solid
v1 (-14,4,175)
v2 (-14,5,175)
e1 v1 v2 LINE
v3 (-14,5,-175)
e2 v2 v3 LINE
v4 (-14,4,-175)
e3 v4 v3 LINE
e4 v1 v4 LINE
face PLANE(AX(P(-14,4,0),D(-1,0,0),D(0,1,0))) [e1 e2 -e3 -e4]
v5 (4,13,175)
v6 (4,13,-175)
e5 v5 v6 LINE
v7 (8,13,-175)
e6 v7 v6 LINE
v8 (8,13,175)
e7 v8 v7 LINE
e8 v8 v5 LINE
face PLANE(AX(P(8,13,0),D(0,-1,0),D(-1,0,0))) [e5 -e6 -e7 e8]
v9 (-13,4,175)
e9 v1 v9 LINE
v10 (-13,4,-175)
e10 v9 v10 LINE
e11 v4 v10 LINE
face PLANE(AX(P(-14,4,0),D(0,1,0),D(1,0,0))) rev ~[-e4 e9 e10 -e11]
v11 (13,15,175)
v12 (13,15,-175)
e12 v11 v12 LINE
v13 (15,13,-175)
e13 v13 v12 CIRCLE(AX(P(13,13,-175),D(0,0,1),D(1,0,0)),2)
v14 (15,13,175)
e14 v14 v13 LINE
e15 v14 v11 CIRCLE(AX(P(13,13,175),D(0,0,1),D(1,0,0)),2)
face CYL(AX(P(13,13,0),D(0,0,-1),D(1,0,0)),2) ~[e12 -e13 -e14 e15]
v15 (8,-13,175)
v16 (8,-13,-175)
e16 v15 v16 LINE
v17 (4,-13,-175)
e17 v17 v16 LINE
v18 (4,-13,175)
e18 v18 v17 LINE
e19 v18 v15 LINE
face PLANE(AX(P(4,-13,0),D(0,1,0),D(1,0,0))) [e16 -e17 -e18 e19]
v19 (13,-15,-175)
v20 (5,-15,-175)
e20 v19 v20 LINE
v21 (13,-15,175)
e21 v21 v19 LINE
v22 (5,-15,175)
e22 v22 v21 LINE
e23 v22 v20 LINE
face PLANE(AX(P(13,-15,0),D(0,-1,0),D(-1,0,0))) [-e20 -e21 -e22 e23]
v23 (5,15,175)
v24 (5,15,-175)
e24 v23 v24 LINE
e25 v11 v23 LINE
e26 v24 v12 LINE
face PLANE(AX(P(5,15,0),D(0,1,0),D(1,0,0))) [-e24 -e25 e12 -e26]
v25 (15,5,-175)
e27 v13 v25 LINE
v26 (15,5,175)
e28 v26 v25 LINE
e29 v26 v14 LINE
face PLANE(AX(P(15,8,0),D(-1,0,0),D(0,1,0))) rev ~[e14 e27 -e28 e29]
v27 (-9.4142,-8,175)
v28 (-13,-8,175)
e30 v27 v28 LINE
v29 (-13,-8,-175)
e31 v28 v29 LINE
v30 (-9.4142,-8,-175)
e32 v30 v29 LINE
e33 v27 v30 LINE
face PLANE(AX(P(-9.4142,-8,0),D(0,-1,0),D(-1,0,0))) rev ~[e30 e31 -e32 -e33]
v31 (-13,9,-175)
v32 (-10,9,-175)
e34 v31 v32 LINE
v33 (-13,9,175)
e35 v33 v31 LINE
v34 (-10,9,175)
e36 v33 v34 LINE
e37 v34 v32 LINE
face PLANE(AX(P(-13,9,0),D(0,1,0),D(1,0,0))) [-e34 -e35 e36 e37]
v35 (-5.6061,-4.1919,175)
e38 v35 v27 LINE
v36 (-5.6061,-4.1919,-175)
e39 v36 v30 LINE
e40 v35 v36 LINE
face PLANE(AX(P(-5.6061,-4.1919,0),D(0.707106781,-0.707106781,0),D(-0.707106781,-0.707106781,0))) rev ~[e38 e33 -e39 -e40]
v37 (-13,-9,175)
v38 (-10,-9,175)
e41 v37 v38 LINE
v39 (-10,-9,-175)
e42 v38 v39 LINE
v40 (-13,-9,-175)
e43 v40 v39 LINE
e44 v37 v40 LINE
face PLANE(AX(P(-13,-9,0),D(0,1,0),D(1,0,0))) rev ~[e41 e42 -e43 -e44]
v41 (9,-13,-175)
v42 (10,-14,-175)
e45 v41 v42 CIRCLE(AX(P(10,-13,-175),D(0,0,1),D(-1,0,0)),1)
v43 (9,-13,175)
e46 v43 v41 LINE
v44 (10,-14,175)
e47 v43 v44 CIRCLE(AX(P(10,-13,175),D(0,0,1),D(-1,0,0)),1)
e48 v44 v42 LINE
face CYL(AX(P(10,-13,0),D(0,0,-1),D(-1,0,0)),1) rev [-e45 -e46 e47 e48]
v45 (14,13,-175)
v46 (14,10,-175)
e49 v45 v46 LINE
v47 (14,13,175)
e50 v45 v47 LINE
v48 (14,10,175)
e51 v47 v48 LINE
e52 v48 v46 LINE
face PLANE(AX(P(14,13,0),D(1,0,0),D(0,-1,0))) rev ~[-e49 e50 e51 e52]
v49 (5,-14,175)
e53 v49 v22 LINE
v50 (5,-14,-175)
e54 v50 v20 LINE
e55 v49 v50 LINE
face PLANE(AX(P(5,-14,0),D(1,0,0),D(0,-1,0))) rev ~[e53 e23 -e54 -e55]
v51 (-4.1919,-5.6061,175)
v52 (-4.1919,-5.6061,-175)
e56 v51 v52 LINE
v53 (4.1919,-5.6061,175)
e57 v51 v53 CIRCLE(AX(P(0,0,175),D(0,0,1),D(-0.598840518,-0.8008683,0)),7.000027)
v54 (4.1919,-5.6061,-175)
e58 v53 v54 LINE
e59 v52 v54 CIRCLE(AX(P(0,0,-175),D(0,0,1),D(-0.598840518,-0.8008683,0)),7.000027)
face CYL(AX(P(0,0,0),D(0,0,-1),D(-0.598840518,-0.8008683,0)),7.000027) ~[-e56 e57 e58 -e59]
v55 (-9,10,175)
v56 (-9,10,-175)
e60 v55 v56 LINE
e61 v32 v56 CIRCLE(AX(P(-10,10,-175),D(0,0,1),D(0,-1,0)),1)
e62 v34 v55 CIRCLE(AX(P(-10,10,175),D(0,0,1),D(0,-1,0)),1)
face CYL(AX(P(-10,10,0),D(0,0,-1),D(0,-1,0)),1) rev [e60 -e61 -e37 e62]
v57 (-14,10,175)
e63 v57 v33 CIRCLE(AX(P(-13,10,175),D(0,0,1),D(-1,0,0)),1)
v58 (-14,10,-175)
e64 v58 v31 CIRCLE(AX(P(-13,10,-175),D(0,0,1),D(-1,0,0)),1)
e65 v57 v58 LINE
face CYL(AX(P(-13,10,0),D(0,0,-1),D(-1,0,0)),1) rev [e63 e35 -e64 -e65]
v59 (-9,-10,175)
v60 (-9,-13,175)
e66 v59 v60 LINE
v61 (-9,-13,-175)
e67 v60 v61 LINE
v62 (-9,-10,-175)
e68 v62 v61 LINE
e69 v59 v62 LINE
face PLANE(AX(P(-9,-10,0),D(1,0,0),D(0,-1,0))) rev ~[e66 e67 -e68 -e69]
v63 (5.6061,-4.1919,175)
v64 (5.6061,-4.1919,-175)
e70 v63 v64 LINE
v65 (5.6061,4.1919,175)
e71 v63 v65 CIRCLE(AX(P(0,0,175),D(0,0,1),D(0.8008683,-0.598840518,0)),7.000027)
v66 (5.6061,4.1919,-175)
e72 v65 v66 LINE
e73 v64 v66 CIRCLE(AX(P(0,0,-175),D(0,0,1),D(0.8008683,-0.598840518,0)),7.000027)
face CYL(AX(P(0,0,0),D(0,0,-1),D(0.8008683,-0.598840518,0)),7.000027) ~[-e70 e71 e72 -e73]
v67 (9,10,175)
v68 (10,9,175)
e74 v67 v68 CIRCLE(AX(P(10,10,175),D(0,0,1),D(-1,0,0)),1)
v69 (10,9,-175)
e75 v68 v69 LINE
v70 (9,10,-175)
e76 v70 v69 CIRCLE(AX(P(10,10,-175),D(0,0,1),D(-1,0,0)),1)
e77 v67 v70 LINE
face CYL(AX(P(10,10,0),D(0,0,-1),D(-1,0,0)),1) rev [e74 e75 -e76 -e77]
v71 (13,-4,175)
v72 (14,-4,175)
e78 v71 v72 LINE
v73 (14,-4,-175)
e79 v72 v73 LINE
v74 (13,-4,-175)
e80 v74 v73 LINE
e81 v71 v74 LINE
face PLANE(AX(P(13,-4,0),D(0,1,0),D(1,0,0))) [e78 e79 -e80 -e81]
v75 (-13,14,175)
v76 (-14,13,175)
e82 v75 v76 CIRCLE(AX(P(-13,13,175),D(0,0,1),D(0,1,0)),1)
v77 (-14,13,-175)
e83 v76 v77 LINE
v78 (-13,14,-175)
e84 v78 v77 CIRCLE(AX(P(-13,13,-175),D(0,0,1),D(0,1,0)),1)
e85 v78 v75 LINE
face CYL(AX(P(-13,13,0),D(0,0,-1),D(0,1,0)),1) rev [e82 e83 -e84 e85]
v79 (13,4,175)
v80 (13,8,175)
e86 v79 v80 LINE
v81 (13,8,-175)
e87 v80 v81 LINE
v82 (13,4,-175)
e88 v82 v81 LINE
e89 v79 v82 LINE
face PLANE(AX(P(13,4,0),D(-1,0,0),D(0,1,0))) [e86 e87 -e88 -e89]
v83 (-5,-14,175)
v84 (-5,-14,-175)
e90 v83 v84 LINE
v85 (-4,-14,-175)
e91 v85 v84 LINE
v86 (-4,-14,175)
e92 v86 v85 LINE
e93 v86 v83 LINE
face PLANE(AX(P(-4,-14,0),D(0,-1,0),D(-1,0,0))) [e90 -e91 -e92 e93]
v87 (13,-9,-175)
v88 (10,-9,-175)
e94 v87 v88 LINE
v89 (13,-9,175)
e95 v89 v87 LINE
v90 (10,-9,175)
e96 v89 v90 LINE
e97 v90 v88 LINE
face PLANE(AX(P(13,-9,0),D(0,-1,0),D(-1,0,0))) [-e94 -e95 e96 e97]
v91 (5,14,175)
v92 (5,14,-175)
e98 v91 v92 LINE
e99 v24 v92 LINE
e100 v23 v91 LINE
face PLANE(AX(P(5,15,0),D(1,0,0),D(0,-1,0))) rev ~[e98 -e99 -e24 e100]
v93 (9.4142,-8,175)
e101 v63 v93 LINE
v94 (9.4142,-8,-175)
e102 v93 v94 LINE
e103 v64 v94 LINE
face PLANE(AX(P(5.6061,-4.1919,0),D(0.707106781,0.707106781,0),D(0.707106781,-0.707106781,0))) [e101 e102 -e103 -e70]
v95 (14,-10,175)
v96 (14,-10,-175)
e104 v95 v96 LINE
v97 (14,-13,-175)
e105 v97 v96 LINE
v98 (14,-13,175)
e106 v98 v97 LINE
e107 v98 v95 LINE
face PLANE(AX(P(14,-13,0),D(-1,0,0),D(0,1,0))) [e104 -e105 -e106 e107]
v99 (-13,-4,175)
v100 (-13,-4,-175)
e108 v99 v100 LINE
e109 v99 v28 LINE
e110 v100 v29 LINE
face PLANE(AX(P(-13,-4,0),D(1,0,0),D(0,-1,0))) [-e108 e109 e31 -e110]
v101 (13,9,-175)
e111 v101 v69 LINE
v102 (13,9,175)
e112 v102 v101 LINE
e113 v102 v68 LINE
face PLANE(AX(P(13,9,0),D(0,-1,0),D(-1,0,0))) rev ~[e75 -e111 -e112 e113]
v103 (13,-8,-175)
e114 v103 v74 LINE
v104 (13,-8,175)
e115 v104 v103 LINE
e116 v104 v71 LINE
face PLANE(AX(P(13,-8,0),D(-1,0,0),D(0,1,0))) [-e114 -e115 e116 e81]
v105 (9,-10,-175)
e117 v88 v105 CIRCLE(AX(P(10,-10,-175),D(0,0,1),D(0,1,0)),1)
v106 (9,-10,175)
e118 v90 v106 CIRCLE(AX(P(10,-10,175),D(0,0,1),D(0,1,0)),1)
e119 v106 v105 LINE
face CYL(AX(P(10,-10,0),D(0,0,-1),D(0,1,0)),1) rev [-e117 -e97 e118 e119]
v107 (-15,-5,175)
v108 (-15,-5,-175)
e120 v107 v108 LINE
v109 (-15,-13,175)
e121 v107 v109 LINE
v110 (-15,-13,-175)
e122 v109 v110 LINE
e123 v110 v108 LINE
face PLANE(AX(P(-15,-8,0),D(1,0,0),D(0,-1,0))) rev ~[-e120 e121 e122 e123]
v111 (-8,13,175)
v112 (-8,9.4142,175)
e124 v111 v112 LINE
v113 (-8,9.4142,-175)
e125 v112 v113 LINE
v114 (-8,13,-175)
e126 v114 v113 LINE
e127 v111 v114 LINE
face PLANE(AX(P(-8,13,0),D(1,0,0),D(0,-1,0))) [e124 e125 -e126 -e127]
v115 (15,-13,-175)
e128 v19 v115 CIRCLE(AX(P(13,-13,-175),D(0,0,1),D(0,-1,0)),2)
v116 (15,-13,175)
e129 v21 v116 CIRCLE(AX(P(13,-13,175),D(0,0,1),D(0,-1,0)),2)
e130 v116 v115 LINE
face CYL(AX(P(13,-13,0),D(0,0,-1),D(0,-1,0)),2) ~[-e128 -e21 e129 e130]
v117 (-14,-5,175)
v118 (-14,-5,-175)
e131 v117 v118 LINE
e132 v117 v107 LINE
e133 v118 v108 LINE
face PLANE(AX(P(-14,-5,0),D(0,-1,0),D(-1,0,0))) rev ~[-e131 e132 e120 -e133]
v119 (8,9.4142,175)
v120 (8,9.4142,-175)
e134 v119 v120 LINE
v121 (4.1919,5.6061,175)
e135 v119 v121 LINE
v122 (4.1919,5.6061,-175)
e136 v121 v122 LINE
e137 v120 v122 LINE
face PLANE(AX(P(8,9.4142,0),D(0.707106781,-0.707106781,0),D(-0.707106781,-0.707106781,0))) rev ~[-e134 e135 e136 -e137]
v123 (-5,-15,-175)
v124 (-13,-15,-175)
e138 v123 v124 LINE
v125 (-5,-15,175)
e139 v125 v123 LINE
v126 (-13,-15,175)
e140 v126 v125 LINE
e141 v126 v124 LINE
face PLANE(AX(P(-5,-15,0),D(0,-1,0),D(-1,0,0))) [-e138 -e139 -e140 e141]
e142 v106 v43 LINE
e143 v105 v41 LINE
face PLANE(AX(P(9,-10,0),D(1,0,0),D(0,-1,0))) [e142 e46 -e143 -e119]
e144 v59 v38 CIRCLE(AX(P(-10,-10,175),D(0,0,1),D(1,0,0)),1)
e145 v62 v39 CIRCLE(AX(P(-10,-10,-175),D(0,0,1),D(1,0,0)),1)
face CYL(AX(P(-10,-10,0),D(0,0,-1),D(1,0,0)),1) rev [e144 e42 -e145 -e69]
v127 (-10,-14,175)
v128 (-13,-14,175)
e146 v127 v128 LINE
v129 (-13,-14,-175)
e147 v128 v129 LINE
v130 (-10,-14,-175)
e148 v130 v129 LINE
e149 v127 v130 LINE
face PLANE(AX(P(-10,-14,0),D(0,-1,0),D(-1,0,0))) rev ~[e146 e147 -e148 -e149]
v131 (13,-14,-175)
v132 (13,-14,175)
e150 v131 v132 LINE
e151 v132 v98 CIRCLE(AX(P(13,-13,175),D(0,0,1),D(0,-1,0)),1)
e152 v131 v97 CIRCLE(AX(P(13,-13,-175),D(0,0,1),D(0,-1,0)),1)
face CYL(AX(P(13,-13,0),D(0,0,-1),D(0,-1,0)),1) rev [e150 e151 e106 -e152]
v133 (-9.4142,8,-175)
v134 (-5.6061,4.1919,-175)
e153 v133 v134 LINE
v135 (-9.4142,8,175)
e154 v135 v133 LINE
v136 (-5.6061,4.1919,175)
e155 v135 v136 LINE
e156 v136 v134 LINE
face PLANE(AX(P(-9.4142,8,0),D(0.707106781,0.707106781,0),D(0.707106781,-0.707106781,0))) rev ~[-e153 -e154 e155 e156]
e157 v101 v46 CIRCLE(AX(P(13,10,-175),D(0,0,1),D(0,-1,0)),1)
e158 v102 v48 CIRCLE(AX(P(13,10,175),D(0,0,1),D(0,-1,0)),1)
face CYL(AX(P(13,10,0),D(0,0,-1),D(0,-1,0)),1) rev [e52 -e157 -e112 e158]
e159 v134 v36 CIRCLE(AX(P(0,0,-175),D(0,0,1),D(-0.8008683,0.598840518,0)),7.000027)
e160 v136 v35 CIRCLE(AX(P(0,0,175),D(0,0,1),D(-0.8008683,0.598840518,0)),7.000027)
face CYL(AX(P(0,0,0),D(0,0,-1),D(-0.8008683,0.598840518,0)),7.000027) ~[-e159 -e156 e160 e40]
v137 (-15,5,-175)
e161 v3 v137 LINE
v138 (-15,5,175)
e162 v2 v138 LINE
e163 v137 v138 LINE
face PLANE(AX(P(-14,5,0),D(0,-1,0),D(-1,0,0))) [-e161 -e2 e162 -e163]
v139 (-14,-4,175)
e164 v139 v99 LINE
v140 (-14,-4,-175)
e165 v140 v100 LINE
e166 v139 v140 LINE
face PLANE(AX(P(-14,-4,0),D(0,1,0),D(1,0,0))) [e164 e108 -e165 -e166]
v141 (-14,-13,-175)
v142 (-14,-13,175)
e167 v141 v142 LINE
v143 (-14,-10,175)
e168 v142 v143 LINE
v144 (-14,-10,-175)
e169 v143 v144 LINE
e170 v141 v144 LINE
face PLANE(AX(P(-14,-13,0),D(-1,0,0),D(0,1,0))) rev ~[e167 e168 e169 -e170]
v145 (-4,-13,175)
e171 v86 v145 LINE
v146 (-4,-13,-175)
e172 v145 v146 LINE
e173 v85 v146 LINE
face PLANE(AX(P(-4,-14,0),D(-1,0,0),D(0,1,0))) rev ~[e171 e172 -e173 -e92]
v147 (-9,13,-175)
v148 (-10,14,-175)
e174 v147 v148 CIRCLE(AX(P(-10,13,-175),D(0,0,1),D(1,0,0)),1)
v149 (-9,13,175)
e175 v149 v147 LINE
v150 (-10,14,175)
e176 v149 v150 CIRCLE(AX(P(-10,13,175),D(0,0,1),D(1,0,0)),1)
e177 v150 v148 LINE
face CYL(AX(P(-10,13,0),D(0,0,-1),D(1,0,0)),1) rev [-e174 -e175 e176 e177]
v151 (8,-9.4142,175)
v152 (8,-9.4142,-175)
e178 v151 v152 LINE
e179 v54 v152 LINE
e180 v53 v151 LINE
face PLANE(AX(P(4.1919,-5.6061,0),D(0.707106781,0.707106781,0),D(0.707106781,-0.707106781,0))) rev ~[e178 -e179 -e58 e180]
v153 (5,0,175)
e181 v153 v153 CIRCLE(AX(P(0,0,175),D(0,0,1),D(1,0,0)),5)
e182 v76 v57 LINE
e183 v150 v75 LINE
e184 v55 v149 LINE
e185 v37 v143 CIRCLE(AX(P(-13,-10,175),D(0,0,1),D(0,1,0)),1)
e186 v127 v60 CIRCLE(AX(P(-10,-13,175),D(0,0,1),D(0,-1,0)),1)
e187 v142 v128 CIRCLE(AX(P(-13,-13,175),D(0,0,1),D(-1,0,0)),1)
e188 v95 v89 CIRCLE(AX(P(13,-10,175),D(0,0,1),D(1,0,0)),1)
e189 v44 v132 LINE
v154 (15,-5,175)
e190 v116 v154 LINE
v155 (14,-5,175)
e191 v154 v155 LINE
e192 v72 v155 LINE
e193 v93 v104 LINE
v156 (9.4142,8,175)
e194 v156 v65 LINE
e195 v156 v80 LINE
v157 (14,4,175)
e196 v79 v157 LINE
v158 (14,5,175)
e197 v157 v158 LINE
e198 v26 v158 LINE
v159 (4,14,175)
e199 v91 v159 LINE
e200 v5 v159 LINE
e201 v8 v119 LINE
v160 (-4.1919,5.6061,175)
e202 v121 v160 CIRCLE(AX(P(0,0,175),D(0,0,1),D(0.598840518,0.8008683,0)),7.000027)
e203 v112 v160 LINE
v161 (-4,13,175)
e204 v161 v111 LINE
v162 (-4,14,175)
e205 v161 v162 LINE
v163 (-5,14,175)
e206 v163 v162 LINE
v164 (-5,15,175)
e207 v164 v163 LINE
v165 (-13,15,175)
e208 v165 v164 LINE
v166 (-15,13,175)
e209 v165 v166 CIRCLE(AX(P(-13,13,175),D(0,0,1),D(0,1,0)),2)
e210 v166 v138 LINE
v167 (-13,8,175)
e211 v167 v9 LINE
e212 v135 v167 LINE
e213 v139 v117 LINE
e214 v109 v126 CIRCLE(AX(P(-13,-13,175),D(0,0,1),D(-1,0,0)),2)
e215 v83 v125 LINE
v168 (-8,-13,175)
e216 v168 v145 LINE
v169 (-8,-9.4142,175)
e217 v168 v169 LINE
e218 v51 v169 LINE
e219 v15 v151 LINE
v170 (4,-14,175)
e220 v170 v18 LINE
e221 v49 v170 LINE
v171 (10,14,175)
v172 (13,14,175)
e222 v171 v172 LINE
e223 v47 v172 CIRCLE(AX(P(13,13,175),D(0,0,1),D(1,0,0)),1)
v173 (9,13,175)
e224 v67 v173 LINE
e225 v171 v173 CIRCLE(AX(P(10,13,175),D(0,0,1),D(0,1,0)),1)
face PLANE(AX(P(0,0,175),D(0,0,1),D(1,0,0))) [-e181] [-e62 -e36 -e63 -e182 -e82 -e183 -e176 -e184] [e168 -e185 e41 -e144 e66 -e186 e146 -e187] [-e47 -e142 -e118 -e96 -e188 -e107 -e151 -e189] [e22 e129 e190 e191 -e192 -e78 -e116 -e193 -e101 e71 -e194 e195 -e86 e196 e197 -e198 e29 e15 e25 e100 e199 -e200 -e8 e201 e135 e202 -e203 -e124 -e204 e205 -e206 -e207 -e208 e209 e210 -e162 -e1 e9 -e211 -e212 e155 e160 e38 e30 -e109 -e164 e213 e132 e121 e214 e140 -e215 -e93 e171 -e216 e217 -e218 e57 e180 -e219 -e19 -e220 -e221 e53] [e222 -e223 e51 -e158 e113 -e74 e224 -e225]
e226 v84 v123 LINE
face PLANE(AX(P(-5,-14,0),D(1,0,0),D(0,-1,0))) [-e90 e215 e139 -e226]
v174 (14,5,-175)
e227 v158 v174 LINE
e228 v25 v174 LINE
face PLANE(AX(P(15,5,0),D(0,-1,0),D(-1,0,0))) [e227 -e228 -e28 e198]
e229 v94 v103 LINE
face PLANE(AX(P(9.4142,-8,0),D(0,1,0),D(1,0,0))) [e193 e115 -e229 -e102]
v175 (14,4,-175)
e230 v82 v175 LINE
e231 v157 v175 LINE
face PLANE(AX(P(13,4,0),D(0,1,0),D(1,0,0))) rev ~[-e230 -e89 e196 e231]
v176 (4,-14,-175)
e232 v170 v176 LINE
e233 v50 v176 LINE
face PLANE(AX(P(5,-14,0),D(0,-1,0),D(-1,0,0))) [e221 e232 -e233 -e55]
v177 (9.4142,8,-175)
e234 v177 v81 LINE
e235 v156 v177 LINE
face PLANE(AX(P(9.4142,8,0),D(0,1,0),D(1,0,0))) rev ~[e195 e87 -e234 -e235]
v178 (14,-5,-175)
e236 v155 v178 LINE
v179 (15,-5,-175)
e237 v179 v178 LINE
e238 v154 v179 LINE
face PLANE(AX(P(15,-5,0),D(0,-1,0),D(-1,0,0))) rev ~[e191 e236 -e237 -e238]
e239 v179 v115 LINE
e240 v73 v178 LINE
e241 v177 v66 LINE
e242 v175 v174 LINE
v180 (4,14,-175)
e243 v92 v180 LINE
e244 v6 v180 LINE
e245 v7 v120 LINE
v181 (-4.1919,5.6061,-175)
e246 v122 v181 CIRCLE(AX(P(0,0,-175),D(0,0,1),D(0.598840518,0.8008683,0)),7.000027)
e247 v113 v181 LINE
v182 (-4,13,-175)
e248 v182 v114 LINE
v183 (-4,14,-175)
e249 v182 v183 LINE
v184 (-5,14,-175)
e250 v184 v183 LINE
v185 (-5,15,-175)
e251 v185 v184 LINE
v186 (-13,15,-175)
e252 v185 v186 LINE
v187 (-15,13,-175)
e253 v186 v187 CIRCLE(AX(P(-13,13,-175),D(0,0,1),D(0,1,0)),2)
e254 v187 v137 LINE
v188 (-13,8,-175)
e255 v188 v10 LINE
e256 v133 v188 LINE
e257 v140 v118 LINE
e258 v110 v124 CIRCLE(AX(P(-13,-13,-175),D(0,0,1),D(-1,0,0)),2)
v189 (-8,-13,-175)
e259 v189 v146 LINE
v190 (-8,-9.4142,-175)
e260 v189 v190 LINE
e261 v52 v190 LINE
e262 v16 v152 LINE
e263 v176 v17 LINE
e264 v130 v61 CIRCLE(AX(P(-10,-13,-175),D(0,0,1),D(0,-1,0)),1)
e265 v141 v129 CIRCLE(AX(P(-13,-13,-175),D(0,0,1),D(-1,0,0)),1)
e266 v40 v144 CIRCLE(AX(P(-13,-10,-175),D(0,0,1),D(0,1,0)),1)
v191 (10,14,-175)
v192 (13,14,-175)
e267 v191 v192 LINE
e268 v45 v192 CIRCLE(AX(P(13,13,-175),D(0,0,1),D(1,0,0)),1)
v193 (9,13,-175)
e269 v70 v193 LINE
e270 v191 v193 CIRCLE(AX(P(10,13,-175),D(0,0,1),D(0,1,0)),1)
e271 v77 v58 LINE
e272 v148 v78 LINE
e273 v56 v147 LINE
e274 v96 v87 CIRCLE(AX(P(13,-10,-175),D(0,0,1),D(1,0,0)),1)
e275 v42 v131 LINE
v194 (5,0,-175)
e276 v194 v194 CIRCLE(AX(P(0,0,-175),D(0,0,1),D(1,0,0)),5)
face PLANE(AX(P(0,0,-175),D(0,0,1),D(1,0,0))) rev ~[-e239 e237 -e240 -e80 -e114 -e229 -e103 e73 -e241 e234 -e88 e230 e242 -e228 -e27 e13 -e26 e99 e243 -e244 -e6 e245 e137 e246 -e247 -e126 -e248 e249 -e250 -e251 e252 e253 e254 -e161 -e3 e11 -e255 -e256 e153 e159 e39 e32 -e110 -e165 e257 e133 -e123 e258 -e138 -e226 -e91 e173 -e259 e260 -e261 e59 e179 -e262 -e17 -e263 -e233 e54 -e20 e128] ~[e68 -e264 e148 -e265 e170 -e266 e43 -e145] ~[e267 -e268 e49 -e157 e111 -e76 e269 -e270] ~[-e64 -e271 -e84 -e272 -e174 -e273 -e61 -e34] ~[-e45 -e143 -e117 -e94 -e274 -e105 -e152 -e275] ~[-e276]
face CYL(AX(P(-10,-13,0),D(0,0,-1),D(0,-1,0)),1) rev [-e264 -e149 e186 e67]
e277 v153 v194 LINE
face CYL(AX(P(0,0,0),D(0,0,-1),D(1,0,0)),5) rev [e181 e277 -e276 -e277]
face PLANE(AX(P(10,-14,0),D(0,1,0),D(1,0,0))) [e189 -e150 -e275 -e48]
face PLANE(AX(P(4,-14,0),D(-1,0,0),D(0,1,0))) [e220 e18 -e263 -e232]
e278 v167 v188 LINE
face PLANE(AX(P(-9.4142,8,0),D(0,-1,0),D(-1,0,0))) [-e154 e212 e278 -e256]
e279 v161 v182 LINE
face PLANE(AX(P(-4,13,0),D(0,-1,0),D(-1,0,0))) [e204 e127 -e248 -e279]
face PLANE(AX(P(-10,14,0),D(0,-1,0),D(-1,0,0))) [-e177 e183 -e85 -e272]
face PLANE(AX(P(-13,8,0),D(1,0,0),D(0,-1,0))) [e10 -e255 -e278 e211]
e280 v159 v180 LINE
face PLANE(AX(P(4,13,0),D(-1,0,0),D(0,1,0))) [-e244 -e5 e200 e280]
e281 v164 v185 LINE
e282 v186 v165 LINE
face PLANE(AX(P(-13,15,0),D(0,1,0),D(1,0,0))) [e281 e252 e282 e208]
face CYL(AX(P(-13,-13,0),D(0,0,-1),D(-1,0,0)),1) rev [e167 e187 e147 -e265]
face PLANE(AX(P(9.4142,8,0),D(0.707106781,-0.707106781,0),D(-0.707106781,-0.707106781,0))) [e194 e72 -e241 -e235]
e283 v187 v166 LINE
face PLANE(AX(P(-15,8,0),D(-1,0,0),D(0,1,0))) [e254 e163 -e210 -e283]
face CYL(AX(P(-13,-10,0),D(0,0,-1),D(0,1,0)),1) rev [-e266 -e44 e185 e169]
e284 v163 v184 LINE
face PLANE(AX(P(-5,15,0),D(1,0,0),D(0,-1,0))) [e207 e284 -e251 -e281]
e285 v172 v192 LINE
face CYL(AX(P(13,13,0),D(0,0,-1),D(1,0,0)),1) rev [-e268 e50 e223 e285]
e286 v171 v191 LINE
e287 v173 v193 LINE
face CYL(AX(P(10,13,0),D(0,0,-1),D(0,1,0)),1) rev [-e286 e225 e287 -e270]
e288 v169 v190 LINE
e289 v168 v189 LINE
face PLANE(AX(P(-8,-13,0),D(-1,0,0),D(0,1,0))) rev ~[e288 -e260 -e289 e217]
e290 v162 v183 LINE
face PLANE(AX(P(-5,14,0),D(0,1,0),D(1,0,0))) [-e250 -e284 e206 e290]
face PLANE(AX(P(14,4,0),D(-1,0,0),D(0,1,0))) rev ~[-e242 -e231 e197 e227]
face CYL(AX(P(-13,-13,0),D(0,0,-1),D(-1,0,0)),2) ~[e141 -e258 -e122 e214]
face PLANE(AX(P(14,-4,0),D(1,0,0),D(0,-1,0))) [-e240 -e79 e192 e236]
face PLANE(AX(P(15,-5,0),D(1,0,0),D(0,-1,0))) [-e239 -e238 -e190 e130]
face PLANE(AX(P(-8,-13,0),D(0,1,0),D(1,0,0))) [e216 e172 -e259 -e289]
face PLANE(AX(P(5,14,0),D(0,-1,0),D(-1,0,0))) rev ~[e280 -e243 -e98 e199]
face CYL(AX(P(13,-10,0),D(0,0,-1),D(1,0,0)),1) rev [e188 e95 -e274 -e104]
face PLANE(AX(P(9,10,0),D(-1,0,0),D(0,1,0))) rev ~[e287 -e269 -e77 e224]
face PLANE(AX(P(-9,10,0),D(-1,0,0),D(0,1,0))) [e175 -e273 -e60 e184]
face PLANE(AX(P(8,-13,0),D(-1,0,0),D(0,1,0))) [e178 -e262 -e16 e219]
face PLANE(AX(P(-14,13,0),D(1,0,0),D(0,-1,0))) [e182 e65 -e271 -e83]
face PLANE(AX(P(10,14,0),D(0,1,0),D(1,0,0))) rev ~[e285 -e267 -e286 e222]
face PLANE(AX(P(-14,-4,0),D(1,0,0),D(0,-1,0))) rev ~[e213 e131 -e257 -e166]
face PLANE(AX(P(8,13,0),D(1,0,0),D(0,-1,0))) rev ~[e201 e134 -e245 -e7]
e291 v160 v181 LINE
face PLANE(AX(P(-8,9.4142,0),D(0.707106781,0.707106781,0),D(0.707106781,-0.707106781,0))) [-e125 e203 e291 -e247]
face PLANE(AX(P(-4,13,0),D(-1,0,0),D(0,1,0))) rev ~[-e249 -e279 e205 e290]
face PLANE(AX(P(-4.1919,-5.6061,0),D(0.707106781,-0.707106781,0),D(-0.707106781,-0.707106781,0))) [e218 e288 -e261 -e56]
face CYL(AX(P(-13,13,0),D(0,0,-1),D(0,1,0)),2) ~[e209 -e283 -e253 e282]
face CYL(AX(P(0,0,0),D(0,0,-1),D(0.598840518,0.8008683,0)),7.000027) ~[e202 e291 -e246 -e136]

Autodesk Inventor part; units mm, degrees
ref_plane "YZ Plane" through (0, 0, 0) normal (1, 0, 0) x (0, 1, 0)
ref_plane "XZ Plane" through (0, 0, 0) normal (0, 1, 0) x (-1, 0, 0)
ref_plane "XY Plane" through (0, 0, 0) normal (0, 0, 1) x (1, 0, 0)
sketch "Sketch1" plane through (0, 0, 0) normal (0, 0, 1) x (1, 0, 0)
  circle A0 centre (0, 0) radius 5
  arc A1 (-13, 15) -> (-15, 13) centre (-13, 13) ccw
  arc A2 (-15, -13) -> (-13, -15) centre (-13, -13) ccw
  arc A3 (13, -15) -> (15, -13) centre (13, -13) ccw
  arc A4 (15, 13) -> (13, 15) centre (13, 13) ccw
  arc A5 (-13, 14) -> (-14, 13) centre (-13, 13) ccw
  arc A6 (-14, -13) -> (-13, -14) centre (-13, -13) ccw
  arc A7 (13, -14) -> (14, -13) centre (13, -13) ccw
  arc A8 (14, 13) -> (13, 14) centre (13, 13) ccw
  line L0 (14, -14) -> (-14, 14) construction
  line L1 (-14, -14) -> (14, 14) construction
  line L2 (15, -15) -> (-15, 15) construction
  line L3 (-15, -15) -> (15, 15) construction
  line L4 (-13, 15) -> (-8, 15)
  line L5 (-8, 13) -> (-8, 8) construction
  line L6 (-9.4142, 8) -> (-13, 8)
  line L7 (-15, 8) -> (-15, 13)
  line L8 (-13, -15) -> (-8, -15)
  line L9 (-8, -13) -> (-8, -9.4142)
  line L10 (-9.4142, -8) -> (-13, -8)
  line L11 (-15, -8) -> (-15, -13)
  line L12 (13, -15) -> (8, -15)
  line L13 (8, -13) -> (8, -9.4142)
  line L14 (9.4142, -8) -> (13, -8)
  line L15 (15, -8) -> (15, -13)
  line L16 (13, 15) -> (8, 15)
  line L17 (8, 13) -> (8, 9.4142)
  line L18 (9.4142, 8) -> (13, 8)
  line L19 (15, 8) -> (15, 13)
  line L20 (-13, 9) -> (-10, 9)
  line L21 (-9, 10) -> (-9, 13)
  line L22 (-10, 14) -> (-13, 14)
  line L23 (-14, 13) -> (-14, 10)
  line L24 (13, 9) -> (10, 9)
  line L25 (9, 10) -> (9, 13)
  line L26 (10, 14) -> (13, 14)
  line L27 (14, 13) -> (14, 10)
  line L28 (13, -9) -> (10, -9)
  line L29 (9, -10) -> (9, -13)
  line L30 (10, -14) -> (13, -14)
  line L31 (14, -13) -> (14, -10)
  line L32 (-13, -9) -> (-10, -9)
  line L33 (-9, -10) -> (-9, -13)
  line L34 (-10, -14) -> (-13, -14)
  line L35 (-14, -13) -> (-14, -10)
  line L36 (-14, 13) -> (-14, 10)
  line L37 (-14, -10) -> (-14, -13)
  line L38 (-14, -13) -> (-14, -10)
  line L39 (-14, 10) -> (-14, 13)
  line L40 (13, -15) -> (5, -15)
  line L41 (-5, -15) -> (-13, -15)
  line L42 (13, -15) -> (5, -15) construction
  line L43 (0, -15) -> (-13, -15) construction
  line L44 (4, -13) -> (8, -13)
  line L45 (-8, -13) -> (-4, -13)
  line L46 (10, -9) -> (13, -9)
  line L47 (14, -10) -> (14, -13)
  line L48 (13, -14) -> (10, -14)
  line L49 (9, -13) -> (9, -10)
  line L50 (5, -14) -> (5, -15)
  line L51 (13, -14) -> (10, -14)
  line L52 (5, -14) -> (4, -14)
  line L53 (4, -14) -> (5, -14)
  line L54 (10, -14) -> (13, -14)
  line L55 (-4, -14) -> (-5, -14)
  line L56 (-10, -14) -> (-13, -14)
  line L57 (-13, -14) -> (-10, -14)
  line L58 (-5, -14) -> (-4, -14)
  line L59 (14, -13) -> (14, -10)
  line L60 (14, 10) -> (14, 13)
  line L61 (14, 13) -> (14, 10)
  line L62 (14, -10) -> (14, -13)
  line L63 (-5, -14) -> (-5, -15)
  line L64 (10, 14) -> (13, 14)
  line L65 (13, 14) -> (10, 14)
  line L66 (-10, 14) -> (-13, 14)
  line L67 (-13, 14) -> (-10, 14)
  line L68 (-5, 15) -> (-5, 14)
  line L69 (-13, 15) -> (-5, 15)
  line L70 (5, 15) -> (13, 15)
  line L71 (-15, 15) -> (-5, 15) construction
  line L72 (5, 15) -> (15, 15) construction
  line L73 (5, 15) -> (5, 14)
  line L74 (8, 13) -> (4, 13)
  line L75 (5, 14) -> (4, 14)
  line L76 (-5, 14) -> (-4, 14)
  line L77 (4, 14) -> (5, 14)
  line L78 (-4, 13) -> (-8, 13)
  line L79 (-4, 14) -> (-5, 14)
  line L80 (4, 13) -> (4, 14)
  line L81 (-4, 13) -> (-4, 14)
  line L82 (-4, -14) -> (-4, -13)
  line L83 (4, -14) -> (4, -13)
  line L84 (-8, 9.4142) -> (-4.1919, 5.6061)
  line L85 (8, 9.4142) -> (4.1919, 5.6061)
  line L86 (9.4142, 8) -> (5.6061, 4.1919)
  line L87 (5.6061, -4.1919) -> (9.4142, -8)
  line L88 (4.1919, -5.6061) -> (8, -9.4142)
  line L89 (-4.1919, -5.6061) -> (-8, -9.4142)
  line L90 (-5.6061, -4.1919) -> (-9.4142, -8)
  line L91 (-9.4142, 8) -> (-5.6061, 4.1919)
  arc A9 (4.1919, 5.6061) -> (-4.1919, 5.6061) centre (0, 0) ccw
  arc A10 (5.6061, -4.1919) -> (5.6061, 4.1919) centre (0, 0) ccw
  arc A11 (-5.6061, 4.1919) -> (-5.6061, -4.1919) centre (0, 0) ccw
  arc A12 (-4.1919, -5.6061) -> (4.1919, -5.6061) centre (0, 0) ccw
  line L92 (-8, 13) -> (-8, 9.4142)
  line L93 (-15, -13) -> (-15, -5) construction
  line L94 (-15, -13) -> (-15, -5)
  line L95 (-15, 5) -> (-15, 13)
  line L96 (15, -5) -> (15, -13) construction
  line L97 (15, 13) -> (15, 5)
  line L98 (15, -5) -> (15, -13)
  line L99 (-14, -4) -> (-14, -5)
  line L100 (14, -4) -> (14, -5)
  line L101 (14, 4) -> (14, 5)
  line L102 (-14, 4) -> (-14, 5)
  line L103 (-13, 8) -> (-13, 4)
  line L104 (13, 4) -> (13, 8)
  line L105 (13, -8) -> (13, -4)
  line L106 (-13, -4) -> (-13, -8)
  line L107 (-14, -5) -> (-15, -5)
  line L108 (15, -5) -> (14, -5)
  line L109 (15, 5) -> (14, 5)
  line L110 (-14, 5) -> (-15, 5)
  line L111 (13, 4) -> (14, 4)
  line L112 (-14, 4) -> (-13, 4)
  line L113 (-14, -4) -> (-13, -4)
  line L114 (13, -4) -> (14, -4)
  arc A13 (-13, -9) -> (-14, -10) centre (-13, -10) ccw
  arc A14 (-9, -10) -> (-10, -9) centre (-10, -10) ccw
  arc A15 (-10, -14) -> (-9, -13) centre (-10, -13) ccw
  arc A16 (10, -9) -> (9, -10) centre (10, -10) ccw
  arc A17 (9, -13) -> (10, -14) centre (10, -13) ccw
  arc A18 (14, -10) -> (13, -9) centre (13, -10) ccw
  arc A19 (10, 14) -> (9, 13) centre (10, 13) ccw
  arc A20 (9, 10) -> (10, 9) centre (10, 10) ccw
  arc A21 (13, 9) -> (14, 10) centre (13, 10) ccw
  arc A22 (-9, 13) -> (-10, 14) centre (-10, 13) ccw
  arc A23 (-10, 9) -> (-9, 10) centre (-10, 10) ccw
  arc A24 (-14, 10) -> (-13, 9) centre (-13, 10) ccw
  point P0 (15, -15)
  point P1 (-5.5858, -7)
  dimension "d0" = 30
  dimension "d1" = 30
  dimension "d2" = 10
  dimension "d4" = 2
  dimension "d11" = 28
  dimension "d12" = 7
  dimension "d13" = 7
  dimension "d15" = 1
  dimension "d16" = 1
  dimension "d17" = 1
  dimension "d18" = 1
  dimension "d19" = 5
  dimension "d23" = 30
  dimension "d27" = 1
  dimension "d30" = 3.5858
  dimension "d31" = 2
  dimension "d32" = 16
  dimension "d33" = 8
  dimension "d34" = 6
  dimension "d35" = 5.5858
extrude "Extrusion1" add sketch "Sketch1" along normal mid plane 350
equation "\"d1\" = d0"
properties part number "base_pole" material "Aluminum 6061"
